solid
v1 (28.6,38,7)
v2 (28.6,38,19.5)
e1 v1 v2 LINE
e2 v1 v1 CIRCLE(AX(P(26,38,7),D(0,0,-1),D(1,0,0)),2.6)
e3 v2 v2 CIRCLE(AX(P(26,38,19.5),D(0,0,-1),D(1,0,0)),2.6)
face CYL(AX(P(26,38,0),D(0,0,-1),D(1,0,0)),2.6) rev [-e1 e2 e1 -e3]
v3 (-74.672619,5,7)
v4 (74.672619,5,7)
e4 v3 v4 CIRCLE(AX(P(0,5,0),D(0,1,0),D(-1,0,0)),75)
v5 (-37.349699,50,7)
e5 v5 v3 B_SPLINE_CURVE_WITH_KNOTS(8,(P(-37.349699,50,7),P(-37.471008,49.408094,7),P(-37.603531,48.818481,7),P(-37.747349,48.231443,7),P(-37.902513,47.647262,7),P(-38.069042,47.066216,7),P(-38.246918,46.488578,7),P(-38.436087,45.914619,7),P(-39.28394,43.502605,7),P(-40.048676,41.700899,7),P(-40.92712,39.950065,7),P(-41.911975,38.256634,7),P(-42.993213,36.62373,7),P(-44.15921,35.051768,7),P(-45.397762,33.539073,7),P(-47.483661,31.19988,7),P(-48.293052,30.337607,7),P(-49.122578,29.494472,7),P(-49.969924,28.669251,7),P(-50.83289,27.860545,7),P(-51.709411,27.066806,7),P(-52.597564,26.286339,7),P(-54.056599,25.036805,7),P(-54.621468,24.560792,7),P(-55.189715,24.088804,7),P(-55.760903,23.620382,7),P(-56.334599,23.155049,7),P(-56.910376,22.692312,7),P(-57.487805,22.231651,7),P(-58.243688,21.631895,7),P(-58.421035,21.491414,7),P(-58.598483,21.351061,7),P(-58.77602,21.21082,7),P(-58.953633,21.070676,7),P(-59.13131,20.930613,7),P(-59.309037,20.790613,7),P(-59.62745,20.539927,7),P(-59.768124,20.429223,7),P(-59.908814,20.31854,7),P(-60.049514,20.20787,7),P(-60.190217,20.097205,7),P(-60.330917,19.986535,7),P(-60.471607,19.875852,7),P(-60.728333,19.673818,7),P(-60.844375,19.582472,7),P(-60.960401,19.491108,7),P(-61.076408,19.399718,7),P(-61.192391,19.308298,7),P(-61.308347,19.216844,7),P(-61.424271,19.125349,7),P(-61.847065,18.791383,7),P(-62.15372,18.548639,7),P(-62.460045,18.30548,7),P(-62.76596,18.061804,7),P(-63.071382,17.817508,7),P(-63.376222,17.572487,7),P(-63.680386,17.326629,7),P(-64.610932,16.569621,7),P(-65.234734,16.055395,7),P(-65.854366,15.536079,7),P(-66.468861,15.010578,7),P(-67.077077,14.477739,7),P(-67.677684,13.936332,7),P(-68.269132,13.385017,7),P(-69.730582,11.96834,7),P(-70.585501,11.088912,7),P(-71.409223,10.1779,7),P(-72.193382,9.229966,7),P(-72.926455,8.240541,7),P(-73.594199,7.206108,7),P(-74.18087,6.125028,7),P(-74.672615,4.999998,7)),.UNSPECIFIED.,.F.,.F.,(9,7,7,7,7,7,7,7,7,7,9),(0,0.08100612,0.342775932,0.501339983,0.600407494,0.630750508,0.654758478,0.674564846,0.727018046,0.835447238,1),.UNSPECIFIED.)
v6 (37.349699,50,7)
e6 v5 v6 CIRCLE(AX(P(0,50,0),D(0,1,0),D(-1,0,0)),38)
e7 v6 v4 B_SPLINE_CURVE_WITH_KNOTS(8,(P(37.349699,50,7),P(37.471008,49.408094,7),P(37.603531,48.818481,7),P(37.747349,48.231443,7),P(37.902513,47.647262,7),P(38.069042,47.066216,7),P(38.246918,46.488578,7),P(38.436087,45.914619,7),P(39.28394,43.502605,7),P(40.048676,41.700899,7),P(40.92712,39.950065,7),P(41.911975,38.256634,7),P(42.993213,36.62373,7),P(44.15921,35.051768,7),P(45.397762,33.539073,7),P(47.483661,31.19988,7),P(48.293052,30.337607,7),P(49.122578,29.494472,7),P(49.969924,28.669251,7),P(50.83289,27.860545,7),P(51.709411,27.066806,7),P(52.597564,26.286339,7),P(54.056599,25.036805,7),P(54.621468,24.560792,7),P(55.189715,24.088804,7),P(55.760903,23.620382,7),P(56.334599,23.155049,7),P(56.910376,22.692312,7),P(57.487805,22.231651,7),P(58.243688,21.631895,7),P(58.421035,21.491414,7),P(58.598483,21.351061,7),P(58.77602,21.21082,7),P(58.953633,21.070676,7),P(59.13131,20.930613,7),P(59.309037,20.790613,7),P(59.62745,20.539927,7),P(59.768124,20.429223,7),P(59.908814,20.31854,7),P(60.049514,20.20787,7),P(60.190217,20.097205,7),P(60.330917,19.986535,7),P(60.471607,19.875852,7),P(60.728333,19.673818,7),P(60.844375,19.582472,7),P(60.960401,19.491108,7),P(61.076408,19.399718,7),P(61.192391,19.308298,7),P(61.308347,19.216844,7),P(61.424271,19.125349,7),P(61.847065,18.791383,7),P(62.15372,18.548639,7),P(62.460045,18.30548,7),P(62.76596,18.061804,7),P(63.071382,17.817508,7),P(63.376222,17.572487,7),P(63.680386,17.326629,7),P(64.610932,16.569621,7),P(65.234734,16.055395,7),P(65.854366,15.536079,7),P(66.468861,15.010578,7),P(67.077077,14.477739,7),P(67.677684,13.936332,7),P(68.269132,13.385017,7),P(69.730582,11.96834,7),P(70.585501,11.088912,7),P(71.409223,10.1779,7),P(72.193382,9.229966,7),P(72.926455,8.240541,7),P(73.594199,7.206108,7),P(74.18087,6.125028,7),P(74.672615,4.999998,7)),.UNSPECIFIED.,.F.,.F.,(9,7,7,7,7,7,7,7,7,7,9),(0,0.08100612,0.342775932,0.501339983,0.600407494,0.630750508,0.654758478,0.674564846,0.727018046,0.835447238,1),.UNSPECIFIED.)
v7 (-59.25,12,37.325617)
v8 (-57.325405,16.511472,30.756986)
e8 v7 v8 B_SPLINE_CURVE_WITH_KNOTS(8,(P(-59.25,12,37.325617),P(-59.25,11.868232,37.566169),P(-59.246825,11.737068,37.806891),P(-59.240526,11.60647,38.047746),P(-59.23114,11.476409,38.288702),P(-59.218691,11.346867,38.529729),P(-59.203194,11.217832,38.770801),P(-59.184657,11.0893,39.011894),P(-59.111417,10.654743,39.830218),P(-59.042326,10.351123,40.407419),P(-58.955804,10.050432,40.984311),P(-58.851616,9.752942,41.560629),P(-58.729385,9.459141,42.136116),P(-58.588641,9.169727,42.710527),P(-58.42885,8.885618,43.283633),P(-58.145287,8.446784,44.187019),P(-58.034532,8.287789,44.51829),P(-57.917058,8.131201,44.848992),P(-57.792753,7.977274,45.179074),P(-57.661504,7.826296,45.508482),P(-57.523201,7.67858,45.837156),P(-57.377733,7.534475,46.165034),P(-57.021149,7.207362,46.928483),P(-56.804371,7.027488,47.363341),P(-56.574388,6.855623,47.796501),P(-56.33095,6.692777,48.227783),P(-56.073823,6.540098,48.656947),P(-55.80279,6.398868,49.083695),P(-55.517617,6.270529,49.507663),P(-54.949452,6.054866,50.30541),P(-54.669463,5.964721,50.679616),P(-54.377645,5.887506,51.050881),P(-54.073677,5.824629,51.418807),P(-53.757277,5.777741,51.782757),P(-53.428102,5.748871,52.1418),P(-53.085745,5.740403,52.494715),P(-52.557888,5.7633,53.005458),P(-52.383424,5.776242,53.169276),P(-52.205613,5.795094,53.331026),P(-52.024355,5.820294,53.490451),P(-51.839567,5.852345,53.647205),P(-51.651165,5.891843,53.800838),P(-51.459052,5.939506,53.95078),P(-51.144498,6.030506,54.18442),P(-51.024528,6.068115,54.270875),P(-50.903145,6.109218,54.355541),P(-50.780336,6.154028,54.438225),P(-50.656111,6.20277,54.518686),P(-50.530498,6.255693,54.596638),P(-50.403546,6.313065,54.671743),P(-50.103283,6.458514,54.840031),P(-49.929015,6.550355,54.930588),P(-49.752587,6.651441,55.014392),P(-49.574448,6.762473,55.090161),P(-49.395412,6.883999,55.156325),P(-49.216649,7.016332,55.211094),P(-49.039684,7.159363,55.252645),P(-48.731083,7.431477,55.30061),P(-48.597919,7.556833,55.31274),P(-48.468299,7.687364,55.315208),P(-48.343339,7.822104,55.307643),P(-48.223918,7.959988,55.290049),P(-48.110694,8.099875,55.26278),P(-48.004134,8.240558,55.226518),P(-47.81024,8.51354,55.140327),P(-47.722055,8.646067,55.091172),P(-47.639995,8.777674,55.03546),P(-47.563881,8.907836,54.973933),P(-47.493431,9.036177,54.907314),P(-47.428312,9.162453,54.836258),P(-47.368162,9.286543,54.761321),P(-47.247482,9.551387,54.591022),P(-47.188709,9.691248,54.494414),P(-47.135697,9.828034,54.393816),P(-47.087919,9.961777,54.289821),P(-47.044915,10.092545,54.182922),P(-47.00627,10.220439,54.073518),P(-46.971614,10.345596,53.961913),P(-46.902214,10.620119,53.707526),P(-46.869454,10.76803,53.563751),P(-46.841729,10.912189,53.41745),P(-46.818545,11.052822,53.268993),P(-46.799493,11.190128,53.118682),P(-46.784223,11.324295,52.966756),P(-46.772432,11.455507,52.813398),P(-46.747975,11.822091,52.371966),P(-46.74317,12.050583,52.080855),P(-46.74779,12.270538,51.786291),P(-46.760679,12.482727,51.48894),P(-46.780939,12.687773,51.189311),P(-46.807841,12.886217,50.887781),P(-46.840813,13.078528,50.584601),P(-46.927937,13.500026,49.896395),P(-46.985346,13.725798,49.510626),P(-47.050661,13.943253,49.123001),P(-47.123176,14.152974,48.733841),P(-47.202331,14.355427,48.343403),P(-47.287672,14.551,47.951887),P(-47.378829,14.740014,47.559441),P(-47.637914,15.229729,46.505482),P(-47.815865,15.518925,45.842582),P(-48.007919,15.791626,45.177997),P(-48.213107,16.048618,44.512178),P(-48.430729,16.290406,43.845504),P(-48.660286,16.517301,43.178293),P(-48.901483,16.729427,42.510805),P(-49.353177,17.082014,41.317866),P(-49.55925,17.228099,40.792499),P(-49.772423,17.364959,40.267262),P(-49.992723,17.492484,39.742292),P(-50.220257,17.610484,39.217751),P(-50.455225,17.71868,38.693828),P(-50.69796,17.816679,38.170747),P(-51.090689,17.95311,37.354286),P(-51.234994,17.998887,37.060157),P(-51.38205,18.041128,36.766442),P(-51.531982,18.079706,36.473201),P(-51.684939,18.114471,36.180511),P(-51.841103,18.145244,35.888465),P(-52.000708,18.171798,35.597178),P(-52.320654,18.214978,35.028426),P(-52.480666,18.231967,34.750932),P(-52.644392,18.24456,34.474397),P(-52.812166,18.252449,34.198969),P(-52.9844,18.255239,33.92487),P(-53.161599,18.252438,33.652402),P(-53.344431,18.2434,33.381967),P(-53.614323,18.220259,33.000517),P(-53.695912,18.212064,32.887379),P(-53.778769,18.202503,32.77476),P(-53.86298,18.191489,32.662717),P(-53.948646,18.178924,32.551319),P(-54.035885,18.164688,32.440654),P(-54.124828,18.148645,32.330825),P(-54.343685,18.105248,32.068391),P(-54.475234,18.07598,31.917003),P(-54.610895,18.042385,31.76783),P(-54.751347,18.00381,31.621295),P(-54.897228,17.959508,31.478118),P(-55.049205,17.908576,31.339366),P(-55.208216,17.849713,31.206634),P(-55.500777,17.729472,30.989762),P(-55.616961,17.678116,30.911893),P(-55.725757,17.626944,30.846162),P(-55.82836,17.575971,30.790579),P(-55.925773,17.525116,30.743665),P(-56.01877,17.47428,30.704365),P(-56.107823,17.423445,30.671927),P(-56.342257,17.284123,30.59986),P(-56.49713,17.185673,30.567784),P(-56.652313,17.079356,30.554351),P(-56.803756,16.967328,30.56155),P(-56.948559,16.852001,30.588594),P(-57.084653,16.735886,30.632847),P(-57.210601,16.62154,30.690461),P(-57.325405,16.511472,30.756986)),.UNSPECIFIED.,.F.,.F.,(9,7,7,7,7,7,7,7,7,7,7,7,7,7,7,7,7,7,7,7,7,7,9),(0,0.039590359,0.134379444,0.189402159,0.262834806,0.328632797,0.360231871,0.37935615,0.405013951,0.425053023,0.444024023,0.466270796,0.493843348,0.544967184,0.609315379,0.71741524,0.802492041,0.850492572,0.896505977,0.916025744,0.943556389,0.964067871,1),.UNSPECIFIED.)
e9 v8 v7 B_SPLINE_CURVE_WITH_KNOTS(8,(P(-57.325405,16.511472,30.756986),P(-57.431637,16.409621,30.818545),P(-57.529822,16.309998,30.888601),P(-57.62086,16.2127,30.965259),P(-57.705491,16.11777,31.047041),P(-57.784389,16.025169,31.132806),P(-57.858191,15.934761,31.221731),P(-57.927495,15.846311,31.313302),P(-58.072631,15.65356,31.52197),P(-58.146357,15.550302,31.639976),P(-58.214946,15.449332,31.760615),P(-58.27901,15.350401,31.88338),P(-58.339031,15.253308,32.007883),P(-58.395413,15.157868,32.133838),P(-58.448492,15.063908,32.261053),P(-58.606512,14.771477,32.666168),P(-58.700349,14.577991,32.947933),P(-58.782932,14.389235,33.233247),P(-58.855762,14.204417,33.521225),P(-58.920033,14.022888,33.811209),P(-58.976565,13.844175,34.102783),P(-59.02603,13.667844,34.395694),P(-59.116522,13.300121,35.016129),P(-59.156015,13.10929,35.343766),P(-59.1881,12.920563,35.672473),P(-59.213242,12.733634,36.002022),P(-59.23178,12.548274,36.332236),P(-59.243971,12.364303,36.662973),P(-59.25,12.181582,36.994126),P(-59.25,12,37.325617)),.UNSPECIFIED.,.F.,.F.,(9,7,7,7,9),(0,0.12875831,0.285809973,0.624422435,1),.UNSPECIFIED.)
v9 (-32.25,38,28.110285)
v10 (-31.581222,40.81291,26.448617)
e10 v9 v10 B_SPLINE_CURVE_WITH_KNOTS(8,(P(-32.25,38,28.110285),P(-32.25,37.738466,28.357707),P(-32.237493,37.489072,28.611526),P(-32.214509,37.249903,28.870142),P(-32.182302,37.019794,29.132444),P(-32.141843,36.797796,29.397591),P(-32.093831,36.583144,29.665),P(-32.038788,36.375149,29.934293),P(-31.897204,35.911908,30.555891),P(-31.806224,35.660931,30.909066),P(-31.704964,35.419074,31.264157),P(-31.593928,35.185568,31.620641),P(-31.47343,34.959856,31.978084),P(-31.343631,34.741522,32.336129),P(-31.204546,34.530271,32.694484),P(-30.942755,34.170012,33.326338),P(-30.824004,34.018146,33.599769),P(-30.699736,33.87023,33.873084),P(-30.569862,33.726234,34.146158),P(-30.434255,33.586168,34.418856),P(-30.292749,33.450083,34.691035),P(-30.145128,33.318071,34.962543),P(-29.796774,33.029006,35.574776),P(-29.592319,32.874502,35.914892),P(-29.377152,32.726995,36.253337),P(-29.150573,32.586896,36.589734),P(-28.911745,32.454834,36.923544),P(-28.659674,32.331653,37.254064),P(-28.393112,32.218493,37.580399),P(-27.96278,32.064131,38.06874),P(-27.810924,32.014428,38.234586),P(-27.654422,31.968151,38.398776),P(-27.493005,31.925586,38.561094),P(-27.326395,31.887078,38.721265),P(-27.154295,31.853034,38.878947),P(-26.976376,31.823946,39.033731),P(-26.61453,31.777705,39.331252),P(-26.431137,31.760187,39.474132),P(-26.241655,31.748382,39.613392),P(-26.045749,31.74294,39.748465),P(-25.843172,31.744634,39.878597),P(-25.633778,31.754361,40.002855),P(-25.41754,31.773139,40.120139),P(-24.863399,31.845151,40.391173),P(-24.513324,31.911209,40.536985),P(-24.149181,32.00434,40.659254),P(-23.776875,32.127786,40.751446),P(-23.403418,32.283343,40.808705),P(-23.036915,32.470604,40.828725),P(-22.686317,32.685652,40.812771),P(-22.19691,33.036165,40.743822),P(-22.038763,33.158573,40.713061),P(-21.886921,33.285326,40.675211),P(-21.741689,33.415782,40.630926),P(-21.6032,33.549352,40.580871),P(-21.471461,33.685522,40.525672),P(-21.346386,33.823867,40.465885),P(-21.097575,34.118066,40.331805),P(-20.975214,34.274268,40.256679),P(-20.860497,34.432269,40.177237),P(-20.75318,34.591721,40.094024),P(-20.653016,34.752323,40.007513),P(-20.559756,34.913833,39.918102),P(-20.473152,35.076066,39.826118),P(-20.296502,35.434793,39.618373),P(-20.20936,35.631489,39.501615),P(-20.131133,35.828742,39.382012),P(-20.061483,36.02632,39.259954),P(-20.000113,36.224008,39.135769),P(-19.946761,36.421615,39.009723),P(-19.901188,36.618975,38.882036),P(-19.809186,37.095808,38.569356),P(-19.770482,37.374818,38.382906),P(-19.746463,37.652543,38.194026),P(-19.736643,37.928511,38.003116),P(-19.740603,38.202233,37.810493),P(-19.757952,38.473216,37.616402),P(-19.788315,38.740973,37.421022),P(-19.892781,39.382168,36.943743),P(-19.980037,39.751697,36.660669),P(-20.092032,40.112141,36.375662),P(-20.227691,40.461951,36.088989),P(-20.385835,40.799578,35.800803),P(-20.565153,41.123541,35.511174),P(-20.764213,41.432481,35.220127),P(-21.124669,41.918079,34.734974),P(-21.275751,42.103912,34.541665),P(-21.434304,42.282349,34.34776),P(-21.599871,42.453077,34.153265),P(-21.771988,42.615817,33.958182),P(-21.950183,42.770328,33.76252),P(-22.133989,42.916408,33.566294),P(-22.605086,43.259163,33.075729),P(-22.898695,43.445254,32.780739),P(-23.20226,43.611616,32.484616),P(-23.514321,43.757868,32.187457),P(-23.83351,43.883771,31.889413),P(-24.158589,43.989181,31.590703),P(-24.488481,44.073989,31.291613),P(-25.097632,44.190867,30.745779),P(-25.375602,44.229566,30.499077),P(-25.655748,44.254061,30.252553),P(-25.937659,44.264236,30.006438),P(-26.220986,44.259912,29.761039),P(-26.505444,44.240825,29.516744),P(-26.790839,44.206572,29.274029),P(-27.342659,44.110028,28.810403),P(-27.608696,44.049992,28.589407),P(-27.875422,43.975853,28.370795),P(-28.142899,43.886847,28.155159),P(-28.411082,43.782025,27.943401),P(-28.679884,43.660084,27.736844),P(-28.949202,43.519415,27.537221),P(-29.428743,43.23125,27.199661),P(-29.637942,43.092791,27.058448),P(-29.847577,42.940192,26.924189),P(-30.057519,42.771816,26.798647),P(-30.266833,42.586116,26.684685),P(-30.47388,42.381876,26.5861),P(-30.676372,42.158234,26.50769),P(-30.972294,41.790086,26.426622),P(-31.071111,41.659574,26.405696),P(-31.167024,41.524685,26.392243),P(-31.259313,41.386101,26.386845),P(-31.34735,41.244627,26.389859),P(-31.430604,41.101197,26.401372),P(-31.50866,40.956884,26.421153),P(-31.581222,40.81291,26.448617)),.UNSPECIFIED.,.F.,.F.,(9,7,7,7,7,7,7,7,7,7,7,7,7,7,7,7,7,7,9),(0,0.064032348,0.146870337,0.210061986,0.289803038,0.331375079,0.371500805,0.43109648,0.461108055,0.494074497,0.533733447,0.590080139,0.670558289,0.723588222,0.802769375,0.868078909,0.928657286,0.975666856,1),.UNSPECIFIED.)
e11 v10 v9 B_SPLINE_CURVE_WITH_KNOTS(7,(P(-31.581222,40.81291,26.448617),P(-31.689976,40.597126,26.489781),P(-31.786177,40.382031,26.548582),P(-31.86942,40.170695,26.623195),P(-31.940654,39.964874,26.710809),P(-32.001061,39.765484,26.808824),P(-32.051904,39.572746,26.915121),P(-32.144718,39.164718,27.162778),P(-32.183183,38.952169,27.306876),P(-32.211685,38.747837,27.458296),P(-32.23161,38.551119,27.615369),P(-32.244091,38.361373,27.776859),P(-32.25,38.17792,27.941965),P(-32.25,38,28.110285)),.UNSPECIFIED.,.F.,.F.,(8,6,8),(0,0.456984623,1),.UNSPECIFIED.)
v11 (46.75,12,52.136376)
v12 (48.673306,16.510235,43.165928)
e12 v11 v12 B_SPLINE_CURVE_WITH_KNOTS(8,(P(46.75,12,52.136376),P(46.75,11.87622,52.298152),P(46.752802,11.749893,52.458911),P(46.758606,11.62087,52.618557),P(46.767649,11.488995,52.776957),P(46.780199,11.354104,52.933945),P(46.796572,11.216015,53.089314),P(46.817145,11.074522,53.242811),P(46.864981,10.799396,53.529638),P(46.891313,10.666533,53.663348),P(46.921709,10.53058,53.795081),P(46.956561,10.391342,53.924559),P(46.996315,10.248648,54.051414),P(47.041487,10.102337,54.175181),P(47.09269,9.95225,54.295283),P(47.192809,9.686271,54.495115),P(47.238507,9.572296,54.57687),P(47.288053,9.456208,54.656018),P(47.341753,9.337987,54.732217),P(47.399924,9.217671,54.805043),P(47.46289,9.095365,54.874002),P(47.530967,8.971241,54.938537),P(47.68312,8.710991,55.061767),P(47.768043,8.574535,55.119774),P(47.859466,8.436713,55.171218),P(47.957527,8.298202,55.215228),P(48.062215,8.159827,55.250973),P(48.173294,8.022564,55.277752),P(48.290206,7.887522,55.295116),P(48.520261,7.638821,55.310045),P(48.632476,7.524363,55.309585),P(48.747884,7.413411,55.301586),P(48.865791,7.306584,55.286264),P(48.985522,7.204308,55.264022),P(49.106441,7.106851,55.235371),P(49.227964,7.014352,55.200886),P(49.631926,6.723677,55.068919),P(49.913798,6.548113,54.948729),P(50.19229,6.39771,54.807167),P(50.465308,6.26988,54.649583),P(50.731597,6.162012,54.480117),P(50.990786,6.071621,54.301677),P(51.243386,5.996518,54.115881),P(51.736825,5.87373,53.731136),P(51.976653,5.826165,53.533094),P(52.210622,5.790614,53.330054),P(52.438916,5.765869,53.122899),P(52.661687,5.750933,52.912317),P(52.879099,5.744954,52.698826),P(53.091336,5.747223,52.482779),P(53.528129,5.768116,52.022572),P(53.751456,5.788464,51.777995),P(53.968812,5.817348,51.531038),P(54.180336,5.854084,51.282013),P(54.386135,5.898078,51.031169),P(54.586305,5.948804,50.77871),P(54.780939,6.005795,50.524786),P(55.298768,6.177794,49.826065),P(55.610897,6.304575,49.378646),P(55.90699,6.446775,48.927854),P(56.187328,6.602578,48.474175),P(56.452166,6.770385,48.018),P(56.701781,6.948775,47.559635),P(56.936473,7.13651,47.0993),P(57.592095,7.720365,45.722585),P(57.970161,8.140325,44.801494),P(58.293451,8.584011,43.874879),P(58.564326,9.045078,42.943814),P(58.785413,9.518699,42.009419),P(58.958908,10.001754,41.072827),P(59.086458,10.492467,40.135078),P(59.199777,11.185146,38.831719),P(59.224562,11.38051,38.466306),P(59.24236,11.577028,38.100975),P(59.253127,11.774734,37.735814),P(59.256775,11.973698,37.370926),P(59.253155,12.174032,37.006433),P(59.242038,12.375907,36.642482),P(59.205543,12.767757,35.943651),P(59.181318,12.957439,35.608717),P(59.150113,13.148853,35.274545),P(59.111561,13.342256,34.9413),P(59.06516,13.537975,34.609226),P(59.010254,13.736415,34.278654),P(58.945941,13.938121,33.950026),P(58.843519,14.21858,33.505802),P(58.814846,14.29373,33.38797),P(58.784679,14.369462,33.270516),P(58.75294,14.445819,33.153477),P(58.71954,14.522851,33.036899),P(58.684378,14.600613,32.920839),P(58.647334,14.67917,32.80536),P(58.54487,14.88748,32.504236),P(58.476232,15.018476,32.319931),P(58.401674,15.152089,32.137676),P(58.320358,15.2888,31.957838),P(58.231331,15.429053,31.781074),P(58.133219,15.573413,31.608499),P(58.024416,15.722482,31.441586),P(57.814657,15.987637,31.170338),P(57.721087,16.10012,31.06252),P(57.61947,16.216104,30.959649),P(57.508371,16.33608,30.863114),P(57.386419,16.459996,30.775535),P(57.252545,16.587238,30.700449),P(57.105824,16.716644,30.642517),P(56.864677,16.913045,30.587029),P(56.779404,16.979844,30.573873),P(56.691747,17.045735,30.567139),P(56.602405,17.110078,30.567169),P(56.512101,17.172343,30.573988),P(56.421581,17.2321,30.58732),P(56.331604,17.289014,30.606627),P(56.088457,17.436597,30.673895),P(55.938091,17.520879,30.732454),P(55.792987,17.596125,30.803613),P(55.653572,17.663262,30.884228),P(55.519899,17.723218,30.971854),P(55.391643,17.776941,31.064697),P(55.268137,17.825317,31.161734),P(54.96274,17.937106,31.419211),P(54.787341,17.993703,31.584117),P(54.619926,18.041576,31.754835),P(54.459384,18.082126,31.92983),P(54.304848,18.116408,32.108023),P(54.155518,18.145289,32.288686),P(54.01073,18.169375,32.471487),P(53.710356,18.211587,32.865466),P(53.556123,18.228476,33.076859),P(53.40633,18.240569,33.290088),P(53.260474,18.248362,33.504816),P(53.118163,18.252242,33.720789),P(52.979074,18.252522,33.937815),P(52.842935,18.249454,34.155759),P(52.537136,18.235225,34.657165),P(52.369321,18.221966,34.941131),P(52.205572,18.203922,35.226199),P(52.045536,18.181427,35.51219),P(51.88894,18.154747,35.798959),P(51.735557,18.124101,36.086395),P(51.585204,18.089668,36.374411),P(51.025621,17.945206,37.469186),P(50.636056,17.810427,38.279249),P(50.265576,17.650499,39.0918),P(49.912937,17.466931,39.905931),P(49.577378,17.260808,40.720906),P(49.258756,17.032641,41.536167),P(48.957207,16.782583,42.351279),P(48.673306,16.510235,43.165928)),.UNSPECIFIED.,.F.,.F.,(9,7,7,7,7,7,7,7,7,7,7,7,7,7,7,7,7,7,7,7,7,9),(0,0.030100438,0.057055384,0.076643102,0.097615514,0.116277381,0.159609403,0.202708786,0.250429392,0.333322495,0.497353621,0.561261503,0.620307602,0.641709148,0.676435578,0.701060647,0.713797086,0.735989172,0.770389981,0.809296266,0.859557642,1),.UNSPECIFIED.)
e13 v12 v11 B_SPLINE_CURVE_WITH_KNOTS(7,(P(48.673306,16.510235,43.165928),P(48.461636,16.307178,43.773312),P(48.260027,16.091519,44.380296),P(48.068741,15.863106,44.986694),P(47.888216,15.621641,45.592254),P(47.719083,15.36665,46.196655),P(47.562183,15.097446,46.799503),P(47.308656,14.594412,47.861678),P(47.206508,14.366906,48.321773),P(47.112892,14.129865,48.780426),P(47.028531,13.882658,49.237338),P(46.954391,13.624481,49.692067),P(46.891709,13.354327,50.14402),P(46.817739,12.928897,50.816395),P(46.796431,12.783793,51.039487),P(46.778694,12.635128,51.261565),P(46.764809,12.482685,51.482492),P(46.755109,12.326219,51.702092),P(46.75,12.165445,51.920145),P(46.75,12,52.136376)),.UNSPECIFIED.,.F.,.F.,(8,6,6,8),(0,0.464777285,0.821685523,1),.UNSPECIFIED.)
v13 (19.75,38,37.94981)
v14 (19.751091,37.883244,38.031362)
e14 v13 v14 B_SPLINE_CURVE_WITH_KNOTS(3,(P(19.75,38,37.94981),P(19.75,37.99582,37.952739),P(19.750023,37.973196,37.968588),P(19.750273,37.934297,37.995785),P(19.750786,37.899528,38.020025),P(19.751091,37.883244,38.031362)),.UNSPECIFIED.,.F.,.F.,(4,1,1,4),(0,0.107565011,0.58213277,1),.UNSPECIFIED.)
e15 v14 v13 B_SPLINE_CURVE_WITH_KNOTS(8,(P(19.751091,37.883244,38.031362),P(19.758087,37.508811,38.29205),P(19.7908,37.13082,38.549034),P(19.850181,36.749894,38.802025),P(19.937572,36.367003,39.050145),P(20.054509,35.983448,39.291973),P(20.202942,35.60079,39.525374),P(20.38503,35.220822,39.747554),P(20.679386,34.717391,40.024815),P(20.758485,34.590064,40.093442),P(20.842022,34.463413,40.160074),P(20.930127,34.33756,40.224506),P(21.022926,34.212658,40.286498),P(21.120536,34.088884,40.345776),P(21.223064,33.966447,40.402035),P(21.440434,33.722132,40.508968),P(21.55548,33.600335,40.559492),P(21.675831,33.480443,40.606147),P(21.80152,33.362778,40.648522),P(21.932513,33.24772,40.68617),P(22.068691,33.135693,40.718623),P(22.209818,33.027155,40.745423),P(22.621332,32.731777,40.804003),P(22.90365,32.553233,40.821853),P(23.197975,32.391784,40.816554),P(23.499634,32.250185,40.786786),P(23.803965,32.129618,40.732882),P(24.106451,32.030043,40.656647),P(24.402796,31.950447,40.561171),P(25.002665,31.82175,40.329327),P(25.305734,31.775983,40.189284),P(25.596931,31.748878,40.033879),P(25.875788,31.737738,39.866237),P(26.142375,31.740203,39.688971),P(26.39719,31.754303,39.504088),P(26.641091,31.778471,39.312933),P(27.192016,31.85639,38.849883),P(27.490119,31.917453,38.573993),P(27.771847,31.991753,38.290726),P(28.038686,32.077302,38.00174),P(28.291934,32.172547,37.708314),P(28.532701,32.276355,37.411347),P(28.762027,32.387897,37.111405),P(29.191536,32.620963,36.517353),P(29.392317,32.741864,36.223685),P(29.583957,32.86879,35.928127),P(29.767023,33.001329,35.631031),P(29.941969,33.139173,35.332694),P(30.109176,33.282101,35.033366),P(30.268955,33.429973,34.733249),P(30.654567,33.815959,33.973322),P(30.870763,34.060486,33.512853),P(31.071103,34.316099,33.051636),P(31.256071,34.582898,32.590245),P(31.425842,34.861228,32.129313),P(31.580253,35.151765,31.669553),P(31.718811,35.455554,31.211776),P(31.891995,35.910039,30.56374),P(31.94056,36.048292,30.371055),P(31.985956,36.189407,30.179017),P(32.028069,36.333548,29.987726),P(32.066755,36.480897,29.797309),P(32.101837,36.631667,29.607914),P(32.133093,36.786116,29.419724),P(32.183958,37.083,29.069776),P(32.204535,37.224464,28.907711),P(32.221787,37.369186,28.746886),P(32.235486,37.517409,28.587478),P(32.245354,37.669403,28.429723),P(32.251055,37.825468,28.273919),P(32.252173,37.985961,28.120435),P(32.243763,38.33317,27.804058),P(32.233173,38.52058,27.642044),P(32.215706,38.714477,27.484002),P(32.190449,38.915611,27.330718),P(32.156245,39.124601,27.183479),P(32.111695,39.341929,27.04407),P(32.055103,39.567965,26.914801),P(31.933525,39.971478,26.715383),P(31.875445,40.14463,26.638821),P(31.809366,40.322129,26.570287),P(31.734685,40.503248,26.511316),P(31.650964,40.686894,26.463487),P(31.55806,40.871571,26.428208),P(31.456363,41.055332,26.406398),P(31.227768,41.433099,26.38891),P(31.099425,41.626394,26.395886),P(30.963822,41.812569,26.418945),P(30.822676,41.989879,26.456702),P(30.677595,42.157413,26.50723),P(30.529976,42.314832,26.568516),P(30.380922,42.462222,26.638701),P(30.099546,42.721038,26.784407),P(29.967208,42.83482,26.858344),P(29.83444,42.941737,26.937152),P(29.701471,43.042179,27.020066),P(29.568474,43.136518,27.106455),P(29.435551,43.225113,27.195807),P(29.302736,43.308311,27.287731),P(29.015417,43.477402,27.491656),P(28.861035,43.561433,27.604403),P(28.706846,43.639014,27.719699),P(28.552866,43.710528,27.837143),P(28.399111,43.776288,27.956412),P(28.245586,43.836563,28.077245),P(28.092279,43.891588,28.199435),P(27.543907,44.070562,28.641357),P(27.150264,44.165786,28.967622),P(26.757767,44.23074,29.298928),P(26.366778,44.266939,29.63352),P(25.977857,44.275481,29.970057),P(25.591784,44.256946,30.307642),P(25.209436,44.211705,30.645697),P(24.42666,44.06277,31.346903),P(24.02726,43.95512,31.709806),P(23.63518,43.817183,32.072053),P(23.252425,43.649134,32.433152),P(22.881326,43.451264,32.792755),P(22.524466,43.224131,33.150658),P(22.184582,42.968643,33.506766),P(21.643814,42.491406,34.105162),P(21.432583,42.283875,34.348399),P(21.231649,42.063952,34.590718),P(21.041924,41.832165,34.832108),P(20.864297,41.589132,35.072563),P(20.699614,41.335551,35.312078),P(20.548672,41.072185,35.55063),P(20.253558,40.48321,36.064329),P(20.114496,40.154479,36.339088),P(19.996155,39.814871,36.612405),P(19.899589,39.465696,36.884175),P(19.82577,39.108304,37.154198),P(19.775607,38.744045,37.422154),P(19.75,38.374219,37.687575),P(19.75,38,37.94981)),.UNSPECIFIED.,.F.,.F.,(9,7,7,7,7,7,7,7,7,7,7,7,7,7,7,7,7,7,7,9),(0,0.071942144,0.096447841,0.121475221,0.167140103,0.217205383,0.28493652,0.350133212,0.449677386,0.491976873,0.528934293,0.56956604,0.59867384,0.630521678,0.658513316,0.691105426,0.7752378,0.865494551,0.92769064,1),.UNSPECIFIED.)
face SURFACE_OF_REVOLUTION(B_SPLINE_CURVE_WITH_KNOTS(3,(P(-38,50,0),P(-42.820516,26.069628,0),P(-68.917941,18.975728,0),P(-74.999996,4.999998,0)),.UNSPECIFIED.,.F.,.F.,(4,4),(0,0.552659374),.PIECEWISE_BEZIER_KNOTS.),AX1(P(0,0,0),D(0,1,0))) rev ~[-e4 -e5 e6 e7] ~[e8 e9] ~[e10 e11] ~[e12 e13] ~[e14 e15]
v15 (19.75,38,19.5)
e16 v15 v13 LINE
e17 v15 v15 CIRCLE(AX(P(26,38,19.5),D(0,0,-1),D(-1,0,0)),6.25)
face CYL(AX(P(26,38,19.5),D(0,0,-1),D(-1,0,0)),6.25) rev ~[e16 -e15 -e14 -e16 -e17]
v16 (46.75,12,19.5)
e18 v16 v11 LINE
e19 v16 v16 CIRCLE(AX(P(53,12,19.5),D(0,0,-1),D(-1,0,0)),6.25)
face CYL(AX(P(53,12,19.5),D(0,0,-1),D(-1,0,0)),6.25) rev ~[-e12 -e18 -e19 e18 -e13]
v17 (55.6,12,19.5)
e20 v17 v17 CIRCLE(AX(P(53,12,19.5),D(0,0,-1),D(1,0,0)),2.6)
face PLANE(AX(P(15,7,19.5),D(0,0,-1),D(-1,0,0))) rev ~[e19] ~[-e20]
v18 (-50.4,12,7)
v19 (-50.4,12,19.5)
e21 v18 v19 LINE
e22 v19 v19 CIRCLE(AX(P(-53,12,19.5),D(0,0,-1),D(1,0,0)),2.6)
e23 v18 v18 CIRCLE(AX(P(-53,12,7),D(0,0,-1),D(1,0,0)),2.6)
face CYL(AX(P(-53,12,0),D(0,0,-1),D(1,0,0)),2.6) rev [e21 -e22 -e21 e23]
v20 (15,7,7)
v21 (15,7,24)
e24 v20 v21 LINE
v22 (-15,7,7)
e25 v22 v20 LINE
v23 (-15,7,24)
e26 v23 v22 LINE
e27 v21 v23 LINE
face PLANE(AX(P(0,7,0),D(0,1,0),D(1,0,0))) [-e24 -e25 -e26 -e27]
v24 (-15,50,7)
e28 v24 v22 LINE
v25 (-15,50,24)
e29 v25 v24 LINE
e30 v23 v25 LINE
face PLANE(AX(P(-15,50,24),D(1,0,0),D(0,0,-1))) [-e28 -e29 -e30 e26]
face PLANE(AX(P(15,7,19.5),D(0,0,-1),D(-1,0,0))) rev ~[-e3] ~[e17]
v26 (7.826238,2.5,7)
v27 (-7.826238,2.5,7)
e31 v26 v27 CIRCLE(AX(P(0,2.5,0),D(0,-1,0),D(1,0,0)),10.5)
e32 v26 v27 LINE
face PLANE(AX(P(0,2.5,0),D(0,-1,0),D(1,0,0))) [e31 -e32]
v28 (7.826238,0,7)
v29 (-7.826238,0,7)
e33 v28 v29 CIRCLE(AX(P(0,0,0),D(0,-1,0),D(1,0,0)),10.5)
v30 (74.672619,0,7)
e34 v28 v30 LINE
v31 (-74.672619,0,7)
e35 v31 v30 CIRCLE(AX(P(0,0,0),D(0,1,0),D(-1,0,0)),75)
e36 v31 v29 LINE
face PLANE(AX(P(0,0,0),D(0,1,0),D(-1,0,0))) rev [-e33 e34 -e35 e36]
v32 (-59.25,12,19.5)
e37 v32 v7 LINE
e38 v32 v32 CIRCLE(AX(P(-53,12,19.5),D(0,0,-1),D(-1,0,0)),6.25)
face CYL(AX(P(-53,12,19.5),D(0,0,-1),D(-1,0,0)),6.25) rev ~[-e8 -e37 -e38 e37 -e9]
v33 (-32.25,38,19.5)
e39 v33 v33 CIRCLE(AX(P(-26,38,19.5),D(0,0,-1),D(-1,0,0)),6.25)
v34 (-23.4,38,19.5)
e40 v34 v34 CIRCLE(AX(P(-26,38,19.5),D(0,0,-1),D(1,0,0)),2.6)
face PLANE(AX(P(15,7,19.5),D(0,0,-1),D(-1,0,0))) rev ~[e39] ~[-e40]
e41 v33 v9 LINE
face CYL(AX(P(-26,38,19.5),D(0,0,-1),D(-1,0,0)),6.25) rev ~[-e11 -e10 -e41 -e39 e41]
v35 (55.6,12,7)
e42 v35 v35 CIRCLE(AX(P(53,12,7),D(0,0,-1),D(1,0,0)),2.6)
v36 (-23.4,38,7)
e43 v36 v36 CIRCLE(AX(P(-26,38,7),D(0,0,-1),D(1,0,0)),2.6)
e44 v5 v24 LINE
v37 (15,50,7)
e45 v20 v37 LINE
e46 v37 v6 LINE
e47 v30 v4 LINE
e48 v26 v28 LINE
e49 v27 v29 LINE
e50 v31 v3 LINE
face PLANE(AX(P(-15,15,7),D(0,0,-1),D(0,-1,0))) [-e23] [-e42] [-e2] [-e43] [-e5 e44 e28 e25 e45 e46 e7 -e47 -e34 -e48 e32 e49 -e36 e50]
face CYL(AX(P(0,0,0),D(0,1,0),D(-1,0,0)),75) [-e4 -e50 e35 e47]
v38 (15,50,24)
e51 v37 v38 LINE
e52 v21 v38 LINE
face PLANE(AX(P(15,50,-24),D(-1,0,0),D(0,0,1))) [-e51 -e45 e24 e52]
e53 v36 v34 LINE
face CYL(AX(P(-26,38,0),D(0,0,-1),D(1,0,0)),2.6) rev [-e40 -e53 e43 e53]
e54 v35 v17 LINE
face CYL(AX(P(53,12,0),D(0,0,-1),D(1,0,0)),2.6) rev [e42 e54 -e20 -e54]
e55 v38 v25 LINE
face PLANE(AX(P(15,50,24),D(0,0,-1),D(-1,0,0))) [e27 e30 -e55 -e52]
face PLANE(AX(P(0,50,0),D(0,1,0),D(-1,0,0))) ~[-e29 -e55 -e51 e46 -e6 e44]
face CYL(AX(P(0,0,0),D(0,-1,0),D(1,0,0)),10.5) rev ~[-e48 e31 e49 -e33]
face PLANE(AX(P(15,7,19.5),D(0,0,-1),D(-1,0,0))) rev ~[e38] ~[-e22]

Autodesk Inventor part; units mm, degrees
ref_plane "YZ Plane" through (0, 0, 0) normal (1, 0, 0) x (0, 1, 0)
sketch "Sketch1" plane through (0, 0, 0) normal (0, 0, 1) x (1, 0, 0)
  line L0 (0, 0) -> (-75, 0)
  line L1 (0, 0) -> (0, 50)
  line L2 (0, 50) -> (-38, 50)
  line L3 (-75, 0) -> (-75, 5)
  spline S0 degree 3 poles (-38, 50) (-46.7224, 6.6996) (-125.1064, 18.5226) (-28.5296, -55.0422) knots 0 0 0 0 1 1 1 1
  point P0 (-58.1914, 22.009)
  dimension "d0" = 75
  dimension "d1" = 50
  dimension "d2" = 38
  dimension "d3" = 5
revolve "Revolution1" add sketch "Sketch1" angle 360 about axis through (0, 0, 0) along (0, 1, 0)
sketch "Sketch2" plane through (0, 50, 0) normal (0, 1, 0) x (1, 0, 0)
  line L0 (-15, 24) -> (15, 24)
  line L1 (15, 24) -> (15, -24)
  line L2 (15, -24) -> (-15, -24)
  line L3 (-15, -24) -> (-15, 24)
  point P0 (0, 0)
  dimension "d5" = 30
  dimension "d6" = 48
  dimension "d7" = 24
  dimension "d8" = 15
extrude "Extrusion1" cut sketch "Sketch2" against normal blind 35
sketch "Sketch3" plane through (0, 15, 0) normal (0, 1, 0) x (1, 0, 0)
  line L0 (15, -24) -> (-15, -24) projected
  line L1 (-15, -24) -> (-15, 24) projected
  line L2 (15, -24) -> (-15, -24)
  line L3 (-15, -24) -> (-15, -7)
  line L4 (-15, -7) -> (15, -7)
  line L5 (15, -7) -> (15, -24)
  point P0 (0, 0)
  dimension "d11" = 17
extrude "Extrusion2" cut sketch "Sketch3" against normal blind 8
sketch "Sketch4" plane through (0, 0, 0) normal (0, 0, 1) x (1, 0, 0)
  circle A0 centre (-26, 38) radius 2.6
  circle A1 centre (-53, 12) radius 2.6
  line L0 (75, 0) -> (-75, 0) projected
  line L1 (38, 50) -> (-38, 50) projected
  line L2 (-75, 0) -> (-75, 5) projected
  line L3 (15, 50) -> (-15, 50) construction
  line L4 (0, 50) -> (0, 20.8019) construction
  circle A2 centre (26, 38) radius 2.6
  circle A3 centre (53, 12) radius 2.6
  point P0 (0, 0)
  dimension "d14" = 5.2
  dimension "d15" = 5.2
  dimension "d16" = 12
  dimension "d17" = 12
  dimension "d18" = 22
  dimension "d19" = 12
extrude "Extrusion3" cut sketch "Sketch4" along normal blind 52 and the other way blind 52
ref_plane "Work Plane1" through (-15, 15, 7) normal (0, 0, 1) x (1, 0, 0)
split "Split1" plane through (-15, 15, 7) removes the side toward (0, 0, -1)
sketch "Sketch6" plane through (0, 0, 0) normal (0, -1, 0) x (1, 0, 0)
  circle A0 centre (0, 0) radius 10.5
  dimension "d25" = 21
extrude "Extrusion4" cut sketch "Sketch6" against normal blind 2.5
ref_plane "Work Plane2" through (15, 7, 19.5) normal (0, 0, -1) x (-1, 0, 0)
sketch "Sketch7" plane through (15, 7, 19.5) normal (0, 0, -1) x (-1, 0, 0)
  circle A0 centre (41, 31) radius 2.6 projected
  circle A1 centre (41, 31) radius 6.25
  circle A2 centre (-11, 31) radius 2.6 projected
  circle A3 centre (-11, 31) radius 6.25
  circle A4 centre (-38, 5) radius 2.6 projected
  circle A5 centre (-38, 5) radius 6.25
  circle A6 centre (68, 5) radius 2.6 projected
  circle A7 centre (68, 5) radius 6.25
  point P0 (15, -7)
  dimension "d29" = 12.5
  dimension "d30" = 12.5
  dimension "d31" = 12.5
  dimension "d32" = 12.5
extrude "Extrusion5" cut sketch "Sketch7" against normal blind 50 contours A0 | A1 | A2 | A3 | A4 | A5 | A6 | A7
equation "\"d7\" = 0.5 * d6"
equation "\"d8\" = 0.5 * d5"
properties part number "Podstawa 01-1"
